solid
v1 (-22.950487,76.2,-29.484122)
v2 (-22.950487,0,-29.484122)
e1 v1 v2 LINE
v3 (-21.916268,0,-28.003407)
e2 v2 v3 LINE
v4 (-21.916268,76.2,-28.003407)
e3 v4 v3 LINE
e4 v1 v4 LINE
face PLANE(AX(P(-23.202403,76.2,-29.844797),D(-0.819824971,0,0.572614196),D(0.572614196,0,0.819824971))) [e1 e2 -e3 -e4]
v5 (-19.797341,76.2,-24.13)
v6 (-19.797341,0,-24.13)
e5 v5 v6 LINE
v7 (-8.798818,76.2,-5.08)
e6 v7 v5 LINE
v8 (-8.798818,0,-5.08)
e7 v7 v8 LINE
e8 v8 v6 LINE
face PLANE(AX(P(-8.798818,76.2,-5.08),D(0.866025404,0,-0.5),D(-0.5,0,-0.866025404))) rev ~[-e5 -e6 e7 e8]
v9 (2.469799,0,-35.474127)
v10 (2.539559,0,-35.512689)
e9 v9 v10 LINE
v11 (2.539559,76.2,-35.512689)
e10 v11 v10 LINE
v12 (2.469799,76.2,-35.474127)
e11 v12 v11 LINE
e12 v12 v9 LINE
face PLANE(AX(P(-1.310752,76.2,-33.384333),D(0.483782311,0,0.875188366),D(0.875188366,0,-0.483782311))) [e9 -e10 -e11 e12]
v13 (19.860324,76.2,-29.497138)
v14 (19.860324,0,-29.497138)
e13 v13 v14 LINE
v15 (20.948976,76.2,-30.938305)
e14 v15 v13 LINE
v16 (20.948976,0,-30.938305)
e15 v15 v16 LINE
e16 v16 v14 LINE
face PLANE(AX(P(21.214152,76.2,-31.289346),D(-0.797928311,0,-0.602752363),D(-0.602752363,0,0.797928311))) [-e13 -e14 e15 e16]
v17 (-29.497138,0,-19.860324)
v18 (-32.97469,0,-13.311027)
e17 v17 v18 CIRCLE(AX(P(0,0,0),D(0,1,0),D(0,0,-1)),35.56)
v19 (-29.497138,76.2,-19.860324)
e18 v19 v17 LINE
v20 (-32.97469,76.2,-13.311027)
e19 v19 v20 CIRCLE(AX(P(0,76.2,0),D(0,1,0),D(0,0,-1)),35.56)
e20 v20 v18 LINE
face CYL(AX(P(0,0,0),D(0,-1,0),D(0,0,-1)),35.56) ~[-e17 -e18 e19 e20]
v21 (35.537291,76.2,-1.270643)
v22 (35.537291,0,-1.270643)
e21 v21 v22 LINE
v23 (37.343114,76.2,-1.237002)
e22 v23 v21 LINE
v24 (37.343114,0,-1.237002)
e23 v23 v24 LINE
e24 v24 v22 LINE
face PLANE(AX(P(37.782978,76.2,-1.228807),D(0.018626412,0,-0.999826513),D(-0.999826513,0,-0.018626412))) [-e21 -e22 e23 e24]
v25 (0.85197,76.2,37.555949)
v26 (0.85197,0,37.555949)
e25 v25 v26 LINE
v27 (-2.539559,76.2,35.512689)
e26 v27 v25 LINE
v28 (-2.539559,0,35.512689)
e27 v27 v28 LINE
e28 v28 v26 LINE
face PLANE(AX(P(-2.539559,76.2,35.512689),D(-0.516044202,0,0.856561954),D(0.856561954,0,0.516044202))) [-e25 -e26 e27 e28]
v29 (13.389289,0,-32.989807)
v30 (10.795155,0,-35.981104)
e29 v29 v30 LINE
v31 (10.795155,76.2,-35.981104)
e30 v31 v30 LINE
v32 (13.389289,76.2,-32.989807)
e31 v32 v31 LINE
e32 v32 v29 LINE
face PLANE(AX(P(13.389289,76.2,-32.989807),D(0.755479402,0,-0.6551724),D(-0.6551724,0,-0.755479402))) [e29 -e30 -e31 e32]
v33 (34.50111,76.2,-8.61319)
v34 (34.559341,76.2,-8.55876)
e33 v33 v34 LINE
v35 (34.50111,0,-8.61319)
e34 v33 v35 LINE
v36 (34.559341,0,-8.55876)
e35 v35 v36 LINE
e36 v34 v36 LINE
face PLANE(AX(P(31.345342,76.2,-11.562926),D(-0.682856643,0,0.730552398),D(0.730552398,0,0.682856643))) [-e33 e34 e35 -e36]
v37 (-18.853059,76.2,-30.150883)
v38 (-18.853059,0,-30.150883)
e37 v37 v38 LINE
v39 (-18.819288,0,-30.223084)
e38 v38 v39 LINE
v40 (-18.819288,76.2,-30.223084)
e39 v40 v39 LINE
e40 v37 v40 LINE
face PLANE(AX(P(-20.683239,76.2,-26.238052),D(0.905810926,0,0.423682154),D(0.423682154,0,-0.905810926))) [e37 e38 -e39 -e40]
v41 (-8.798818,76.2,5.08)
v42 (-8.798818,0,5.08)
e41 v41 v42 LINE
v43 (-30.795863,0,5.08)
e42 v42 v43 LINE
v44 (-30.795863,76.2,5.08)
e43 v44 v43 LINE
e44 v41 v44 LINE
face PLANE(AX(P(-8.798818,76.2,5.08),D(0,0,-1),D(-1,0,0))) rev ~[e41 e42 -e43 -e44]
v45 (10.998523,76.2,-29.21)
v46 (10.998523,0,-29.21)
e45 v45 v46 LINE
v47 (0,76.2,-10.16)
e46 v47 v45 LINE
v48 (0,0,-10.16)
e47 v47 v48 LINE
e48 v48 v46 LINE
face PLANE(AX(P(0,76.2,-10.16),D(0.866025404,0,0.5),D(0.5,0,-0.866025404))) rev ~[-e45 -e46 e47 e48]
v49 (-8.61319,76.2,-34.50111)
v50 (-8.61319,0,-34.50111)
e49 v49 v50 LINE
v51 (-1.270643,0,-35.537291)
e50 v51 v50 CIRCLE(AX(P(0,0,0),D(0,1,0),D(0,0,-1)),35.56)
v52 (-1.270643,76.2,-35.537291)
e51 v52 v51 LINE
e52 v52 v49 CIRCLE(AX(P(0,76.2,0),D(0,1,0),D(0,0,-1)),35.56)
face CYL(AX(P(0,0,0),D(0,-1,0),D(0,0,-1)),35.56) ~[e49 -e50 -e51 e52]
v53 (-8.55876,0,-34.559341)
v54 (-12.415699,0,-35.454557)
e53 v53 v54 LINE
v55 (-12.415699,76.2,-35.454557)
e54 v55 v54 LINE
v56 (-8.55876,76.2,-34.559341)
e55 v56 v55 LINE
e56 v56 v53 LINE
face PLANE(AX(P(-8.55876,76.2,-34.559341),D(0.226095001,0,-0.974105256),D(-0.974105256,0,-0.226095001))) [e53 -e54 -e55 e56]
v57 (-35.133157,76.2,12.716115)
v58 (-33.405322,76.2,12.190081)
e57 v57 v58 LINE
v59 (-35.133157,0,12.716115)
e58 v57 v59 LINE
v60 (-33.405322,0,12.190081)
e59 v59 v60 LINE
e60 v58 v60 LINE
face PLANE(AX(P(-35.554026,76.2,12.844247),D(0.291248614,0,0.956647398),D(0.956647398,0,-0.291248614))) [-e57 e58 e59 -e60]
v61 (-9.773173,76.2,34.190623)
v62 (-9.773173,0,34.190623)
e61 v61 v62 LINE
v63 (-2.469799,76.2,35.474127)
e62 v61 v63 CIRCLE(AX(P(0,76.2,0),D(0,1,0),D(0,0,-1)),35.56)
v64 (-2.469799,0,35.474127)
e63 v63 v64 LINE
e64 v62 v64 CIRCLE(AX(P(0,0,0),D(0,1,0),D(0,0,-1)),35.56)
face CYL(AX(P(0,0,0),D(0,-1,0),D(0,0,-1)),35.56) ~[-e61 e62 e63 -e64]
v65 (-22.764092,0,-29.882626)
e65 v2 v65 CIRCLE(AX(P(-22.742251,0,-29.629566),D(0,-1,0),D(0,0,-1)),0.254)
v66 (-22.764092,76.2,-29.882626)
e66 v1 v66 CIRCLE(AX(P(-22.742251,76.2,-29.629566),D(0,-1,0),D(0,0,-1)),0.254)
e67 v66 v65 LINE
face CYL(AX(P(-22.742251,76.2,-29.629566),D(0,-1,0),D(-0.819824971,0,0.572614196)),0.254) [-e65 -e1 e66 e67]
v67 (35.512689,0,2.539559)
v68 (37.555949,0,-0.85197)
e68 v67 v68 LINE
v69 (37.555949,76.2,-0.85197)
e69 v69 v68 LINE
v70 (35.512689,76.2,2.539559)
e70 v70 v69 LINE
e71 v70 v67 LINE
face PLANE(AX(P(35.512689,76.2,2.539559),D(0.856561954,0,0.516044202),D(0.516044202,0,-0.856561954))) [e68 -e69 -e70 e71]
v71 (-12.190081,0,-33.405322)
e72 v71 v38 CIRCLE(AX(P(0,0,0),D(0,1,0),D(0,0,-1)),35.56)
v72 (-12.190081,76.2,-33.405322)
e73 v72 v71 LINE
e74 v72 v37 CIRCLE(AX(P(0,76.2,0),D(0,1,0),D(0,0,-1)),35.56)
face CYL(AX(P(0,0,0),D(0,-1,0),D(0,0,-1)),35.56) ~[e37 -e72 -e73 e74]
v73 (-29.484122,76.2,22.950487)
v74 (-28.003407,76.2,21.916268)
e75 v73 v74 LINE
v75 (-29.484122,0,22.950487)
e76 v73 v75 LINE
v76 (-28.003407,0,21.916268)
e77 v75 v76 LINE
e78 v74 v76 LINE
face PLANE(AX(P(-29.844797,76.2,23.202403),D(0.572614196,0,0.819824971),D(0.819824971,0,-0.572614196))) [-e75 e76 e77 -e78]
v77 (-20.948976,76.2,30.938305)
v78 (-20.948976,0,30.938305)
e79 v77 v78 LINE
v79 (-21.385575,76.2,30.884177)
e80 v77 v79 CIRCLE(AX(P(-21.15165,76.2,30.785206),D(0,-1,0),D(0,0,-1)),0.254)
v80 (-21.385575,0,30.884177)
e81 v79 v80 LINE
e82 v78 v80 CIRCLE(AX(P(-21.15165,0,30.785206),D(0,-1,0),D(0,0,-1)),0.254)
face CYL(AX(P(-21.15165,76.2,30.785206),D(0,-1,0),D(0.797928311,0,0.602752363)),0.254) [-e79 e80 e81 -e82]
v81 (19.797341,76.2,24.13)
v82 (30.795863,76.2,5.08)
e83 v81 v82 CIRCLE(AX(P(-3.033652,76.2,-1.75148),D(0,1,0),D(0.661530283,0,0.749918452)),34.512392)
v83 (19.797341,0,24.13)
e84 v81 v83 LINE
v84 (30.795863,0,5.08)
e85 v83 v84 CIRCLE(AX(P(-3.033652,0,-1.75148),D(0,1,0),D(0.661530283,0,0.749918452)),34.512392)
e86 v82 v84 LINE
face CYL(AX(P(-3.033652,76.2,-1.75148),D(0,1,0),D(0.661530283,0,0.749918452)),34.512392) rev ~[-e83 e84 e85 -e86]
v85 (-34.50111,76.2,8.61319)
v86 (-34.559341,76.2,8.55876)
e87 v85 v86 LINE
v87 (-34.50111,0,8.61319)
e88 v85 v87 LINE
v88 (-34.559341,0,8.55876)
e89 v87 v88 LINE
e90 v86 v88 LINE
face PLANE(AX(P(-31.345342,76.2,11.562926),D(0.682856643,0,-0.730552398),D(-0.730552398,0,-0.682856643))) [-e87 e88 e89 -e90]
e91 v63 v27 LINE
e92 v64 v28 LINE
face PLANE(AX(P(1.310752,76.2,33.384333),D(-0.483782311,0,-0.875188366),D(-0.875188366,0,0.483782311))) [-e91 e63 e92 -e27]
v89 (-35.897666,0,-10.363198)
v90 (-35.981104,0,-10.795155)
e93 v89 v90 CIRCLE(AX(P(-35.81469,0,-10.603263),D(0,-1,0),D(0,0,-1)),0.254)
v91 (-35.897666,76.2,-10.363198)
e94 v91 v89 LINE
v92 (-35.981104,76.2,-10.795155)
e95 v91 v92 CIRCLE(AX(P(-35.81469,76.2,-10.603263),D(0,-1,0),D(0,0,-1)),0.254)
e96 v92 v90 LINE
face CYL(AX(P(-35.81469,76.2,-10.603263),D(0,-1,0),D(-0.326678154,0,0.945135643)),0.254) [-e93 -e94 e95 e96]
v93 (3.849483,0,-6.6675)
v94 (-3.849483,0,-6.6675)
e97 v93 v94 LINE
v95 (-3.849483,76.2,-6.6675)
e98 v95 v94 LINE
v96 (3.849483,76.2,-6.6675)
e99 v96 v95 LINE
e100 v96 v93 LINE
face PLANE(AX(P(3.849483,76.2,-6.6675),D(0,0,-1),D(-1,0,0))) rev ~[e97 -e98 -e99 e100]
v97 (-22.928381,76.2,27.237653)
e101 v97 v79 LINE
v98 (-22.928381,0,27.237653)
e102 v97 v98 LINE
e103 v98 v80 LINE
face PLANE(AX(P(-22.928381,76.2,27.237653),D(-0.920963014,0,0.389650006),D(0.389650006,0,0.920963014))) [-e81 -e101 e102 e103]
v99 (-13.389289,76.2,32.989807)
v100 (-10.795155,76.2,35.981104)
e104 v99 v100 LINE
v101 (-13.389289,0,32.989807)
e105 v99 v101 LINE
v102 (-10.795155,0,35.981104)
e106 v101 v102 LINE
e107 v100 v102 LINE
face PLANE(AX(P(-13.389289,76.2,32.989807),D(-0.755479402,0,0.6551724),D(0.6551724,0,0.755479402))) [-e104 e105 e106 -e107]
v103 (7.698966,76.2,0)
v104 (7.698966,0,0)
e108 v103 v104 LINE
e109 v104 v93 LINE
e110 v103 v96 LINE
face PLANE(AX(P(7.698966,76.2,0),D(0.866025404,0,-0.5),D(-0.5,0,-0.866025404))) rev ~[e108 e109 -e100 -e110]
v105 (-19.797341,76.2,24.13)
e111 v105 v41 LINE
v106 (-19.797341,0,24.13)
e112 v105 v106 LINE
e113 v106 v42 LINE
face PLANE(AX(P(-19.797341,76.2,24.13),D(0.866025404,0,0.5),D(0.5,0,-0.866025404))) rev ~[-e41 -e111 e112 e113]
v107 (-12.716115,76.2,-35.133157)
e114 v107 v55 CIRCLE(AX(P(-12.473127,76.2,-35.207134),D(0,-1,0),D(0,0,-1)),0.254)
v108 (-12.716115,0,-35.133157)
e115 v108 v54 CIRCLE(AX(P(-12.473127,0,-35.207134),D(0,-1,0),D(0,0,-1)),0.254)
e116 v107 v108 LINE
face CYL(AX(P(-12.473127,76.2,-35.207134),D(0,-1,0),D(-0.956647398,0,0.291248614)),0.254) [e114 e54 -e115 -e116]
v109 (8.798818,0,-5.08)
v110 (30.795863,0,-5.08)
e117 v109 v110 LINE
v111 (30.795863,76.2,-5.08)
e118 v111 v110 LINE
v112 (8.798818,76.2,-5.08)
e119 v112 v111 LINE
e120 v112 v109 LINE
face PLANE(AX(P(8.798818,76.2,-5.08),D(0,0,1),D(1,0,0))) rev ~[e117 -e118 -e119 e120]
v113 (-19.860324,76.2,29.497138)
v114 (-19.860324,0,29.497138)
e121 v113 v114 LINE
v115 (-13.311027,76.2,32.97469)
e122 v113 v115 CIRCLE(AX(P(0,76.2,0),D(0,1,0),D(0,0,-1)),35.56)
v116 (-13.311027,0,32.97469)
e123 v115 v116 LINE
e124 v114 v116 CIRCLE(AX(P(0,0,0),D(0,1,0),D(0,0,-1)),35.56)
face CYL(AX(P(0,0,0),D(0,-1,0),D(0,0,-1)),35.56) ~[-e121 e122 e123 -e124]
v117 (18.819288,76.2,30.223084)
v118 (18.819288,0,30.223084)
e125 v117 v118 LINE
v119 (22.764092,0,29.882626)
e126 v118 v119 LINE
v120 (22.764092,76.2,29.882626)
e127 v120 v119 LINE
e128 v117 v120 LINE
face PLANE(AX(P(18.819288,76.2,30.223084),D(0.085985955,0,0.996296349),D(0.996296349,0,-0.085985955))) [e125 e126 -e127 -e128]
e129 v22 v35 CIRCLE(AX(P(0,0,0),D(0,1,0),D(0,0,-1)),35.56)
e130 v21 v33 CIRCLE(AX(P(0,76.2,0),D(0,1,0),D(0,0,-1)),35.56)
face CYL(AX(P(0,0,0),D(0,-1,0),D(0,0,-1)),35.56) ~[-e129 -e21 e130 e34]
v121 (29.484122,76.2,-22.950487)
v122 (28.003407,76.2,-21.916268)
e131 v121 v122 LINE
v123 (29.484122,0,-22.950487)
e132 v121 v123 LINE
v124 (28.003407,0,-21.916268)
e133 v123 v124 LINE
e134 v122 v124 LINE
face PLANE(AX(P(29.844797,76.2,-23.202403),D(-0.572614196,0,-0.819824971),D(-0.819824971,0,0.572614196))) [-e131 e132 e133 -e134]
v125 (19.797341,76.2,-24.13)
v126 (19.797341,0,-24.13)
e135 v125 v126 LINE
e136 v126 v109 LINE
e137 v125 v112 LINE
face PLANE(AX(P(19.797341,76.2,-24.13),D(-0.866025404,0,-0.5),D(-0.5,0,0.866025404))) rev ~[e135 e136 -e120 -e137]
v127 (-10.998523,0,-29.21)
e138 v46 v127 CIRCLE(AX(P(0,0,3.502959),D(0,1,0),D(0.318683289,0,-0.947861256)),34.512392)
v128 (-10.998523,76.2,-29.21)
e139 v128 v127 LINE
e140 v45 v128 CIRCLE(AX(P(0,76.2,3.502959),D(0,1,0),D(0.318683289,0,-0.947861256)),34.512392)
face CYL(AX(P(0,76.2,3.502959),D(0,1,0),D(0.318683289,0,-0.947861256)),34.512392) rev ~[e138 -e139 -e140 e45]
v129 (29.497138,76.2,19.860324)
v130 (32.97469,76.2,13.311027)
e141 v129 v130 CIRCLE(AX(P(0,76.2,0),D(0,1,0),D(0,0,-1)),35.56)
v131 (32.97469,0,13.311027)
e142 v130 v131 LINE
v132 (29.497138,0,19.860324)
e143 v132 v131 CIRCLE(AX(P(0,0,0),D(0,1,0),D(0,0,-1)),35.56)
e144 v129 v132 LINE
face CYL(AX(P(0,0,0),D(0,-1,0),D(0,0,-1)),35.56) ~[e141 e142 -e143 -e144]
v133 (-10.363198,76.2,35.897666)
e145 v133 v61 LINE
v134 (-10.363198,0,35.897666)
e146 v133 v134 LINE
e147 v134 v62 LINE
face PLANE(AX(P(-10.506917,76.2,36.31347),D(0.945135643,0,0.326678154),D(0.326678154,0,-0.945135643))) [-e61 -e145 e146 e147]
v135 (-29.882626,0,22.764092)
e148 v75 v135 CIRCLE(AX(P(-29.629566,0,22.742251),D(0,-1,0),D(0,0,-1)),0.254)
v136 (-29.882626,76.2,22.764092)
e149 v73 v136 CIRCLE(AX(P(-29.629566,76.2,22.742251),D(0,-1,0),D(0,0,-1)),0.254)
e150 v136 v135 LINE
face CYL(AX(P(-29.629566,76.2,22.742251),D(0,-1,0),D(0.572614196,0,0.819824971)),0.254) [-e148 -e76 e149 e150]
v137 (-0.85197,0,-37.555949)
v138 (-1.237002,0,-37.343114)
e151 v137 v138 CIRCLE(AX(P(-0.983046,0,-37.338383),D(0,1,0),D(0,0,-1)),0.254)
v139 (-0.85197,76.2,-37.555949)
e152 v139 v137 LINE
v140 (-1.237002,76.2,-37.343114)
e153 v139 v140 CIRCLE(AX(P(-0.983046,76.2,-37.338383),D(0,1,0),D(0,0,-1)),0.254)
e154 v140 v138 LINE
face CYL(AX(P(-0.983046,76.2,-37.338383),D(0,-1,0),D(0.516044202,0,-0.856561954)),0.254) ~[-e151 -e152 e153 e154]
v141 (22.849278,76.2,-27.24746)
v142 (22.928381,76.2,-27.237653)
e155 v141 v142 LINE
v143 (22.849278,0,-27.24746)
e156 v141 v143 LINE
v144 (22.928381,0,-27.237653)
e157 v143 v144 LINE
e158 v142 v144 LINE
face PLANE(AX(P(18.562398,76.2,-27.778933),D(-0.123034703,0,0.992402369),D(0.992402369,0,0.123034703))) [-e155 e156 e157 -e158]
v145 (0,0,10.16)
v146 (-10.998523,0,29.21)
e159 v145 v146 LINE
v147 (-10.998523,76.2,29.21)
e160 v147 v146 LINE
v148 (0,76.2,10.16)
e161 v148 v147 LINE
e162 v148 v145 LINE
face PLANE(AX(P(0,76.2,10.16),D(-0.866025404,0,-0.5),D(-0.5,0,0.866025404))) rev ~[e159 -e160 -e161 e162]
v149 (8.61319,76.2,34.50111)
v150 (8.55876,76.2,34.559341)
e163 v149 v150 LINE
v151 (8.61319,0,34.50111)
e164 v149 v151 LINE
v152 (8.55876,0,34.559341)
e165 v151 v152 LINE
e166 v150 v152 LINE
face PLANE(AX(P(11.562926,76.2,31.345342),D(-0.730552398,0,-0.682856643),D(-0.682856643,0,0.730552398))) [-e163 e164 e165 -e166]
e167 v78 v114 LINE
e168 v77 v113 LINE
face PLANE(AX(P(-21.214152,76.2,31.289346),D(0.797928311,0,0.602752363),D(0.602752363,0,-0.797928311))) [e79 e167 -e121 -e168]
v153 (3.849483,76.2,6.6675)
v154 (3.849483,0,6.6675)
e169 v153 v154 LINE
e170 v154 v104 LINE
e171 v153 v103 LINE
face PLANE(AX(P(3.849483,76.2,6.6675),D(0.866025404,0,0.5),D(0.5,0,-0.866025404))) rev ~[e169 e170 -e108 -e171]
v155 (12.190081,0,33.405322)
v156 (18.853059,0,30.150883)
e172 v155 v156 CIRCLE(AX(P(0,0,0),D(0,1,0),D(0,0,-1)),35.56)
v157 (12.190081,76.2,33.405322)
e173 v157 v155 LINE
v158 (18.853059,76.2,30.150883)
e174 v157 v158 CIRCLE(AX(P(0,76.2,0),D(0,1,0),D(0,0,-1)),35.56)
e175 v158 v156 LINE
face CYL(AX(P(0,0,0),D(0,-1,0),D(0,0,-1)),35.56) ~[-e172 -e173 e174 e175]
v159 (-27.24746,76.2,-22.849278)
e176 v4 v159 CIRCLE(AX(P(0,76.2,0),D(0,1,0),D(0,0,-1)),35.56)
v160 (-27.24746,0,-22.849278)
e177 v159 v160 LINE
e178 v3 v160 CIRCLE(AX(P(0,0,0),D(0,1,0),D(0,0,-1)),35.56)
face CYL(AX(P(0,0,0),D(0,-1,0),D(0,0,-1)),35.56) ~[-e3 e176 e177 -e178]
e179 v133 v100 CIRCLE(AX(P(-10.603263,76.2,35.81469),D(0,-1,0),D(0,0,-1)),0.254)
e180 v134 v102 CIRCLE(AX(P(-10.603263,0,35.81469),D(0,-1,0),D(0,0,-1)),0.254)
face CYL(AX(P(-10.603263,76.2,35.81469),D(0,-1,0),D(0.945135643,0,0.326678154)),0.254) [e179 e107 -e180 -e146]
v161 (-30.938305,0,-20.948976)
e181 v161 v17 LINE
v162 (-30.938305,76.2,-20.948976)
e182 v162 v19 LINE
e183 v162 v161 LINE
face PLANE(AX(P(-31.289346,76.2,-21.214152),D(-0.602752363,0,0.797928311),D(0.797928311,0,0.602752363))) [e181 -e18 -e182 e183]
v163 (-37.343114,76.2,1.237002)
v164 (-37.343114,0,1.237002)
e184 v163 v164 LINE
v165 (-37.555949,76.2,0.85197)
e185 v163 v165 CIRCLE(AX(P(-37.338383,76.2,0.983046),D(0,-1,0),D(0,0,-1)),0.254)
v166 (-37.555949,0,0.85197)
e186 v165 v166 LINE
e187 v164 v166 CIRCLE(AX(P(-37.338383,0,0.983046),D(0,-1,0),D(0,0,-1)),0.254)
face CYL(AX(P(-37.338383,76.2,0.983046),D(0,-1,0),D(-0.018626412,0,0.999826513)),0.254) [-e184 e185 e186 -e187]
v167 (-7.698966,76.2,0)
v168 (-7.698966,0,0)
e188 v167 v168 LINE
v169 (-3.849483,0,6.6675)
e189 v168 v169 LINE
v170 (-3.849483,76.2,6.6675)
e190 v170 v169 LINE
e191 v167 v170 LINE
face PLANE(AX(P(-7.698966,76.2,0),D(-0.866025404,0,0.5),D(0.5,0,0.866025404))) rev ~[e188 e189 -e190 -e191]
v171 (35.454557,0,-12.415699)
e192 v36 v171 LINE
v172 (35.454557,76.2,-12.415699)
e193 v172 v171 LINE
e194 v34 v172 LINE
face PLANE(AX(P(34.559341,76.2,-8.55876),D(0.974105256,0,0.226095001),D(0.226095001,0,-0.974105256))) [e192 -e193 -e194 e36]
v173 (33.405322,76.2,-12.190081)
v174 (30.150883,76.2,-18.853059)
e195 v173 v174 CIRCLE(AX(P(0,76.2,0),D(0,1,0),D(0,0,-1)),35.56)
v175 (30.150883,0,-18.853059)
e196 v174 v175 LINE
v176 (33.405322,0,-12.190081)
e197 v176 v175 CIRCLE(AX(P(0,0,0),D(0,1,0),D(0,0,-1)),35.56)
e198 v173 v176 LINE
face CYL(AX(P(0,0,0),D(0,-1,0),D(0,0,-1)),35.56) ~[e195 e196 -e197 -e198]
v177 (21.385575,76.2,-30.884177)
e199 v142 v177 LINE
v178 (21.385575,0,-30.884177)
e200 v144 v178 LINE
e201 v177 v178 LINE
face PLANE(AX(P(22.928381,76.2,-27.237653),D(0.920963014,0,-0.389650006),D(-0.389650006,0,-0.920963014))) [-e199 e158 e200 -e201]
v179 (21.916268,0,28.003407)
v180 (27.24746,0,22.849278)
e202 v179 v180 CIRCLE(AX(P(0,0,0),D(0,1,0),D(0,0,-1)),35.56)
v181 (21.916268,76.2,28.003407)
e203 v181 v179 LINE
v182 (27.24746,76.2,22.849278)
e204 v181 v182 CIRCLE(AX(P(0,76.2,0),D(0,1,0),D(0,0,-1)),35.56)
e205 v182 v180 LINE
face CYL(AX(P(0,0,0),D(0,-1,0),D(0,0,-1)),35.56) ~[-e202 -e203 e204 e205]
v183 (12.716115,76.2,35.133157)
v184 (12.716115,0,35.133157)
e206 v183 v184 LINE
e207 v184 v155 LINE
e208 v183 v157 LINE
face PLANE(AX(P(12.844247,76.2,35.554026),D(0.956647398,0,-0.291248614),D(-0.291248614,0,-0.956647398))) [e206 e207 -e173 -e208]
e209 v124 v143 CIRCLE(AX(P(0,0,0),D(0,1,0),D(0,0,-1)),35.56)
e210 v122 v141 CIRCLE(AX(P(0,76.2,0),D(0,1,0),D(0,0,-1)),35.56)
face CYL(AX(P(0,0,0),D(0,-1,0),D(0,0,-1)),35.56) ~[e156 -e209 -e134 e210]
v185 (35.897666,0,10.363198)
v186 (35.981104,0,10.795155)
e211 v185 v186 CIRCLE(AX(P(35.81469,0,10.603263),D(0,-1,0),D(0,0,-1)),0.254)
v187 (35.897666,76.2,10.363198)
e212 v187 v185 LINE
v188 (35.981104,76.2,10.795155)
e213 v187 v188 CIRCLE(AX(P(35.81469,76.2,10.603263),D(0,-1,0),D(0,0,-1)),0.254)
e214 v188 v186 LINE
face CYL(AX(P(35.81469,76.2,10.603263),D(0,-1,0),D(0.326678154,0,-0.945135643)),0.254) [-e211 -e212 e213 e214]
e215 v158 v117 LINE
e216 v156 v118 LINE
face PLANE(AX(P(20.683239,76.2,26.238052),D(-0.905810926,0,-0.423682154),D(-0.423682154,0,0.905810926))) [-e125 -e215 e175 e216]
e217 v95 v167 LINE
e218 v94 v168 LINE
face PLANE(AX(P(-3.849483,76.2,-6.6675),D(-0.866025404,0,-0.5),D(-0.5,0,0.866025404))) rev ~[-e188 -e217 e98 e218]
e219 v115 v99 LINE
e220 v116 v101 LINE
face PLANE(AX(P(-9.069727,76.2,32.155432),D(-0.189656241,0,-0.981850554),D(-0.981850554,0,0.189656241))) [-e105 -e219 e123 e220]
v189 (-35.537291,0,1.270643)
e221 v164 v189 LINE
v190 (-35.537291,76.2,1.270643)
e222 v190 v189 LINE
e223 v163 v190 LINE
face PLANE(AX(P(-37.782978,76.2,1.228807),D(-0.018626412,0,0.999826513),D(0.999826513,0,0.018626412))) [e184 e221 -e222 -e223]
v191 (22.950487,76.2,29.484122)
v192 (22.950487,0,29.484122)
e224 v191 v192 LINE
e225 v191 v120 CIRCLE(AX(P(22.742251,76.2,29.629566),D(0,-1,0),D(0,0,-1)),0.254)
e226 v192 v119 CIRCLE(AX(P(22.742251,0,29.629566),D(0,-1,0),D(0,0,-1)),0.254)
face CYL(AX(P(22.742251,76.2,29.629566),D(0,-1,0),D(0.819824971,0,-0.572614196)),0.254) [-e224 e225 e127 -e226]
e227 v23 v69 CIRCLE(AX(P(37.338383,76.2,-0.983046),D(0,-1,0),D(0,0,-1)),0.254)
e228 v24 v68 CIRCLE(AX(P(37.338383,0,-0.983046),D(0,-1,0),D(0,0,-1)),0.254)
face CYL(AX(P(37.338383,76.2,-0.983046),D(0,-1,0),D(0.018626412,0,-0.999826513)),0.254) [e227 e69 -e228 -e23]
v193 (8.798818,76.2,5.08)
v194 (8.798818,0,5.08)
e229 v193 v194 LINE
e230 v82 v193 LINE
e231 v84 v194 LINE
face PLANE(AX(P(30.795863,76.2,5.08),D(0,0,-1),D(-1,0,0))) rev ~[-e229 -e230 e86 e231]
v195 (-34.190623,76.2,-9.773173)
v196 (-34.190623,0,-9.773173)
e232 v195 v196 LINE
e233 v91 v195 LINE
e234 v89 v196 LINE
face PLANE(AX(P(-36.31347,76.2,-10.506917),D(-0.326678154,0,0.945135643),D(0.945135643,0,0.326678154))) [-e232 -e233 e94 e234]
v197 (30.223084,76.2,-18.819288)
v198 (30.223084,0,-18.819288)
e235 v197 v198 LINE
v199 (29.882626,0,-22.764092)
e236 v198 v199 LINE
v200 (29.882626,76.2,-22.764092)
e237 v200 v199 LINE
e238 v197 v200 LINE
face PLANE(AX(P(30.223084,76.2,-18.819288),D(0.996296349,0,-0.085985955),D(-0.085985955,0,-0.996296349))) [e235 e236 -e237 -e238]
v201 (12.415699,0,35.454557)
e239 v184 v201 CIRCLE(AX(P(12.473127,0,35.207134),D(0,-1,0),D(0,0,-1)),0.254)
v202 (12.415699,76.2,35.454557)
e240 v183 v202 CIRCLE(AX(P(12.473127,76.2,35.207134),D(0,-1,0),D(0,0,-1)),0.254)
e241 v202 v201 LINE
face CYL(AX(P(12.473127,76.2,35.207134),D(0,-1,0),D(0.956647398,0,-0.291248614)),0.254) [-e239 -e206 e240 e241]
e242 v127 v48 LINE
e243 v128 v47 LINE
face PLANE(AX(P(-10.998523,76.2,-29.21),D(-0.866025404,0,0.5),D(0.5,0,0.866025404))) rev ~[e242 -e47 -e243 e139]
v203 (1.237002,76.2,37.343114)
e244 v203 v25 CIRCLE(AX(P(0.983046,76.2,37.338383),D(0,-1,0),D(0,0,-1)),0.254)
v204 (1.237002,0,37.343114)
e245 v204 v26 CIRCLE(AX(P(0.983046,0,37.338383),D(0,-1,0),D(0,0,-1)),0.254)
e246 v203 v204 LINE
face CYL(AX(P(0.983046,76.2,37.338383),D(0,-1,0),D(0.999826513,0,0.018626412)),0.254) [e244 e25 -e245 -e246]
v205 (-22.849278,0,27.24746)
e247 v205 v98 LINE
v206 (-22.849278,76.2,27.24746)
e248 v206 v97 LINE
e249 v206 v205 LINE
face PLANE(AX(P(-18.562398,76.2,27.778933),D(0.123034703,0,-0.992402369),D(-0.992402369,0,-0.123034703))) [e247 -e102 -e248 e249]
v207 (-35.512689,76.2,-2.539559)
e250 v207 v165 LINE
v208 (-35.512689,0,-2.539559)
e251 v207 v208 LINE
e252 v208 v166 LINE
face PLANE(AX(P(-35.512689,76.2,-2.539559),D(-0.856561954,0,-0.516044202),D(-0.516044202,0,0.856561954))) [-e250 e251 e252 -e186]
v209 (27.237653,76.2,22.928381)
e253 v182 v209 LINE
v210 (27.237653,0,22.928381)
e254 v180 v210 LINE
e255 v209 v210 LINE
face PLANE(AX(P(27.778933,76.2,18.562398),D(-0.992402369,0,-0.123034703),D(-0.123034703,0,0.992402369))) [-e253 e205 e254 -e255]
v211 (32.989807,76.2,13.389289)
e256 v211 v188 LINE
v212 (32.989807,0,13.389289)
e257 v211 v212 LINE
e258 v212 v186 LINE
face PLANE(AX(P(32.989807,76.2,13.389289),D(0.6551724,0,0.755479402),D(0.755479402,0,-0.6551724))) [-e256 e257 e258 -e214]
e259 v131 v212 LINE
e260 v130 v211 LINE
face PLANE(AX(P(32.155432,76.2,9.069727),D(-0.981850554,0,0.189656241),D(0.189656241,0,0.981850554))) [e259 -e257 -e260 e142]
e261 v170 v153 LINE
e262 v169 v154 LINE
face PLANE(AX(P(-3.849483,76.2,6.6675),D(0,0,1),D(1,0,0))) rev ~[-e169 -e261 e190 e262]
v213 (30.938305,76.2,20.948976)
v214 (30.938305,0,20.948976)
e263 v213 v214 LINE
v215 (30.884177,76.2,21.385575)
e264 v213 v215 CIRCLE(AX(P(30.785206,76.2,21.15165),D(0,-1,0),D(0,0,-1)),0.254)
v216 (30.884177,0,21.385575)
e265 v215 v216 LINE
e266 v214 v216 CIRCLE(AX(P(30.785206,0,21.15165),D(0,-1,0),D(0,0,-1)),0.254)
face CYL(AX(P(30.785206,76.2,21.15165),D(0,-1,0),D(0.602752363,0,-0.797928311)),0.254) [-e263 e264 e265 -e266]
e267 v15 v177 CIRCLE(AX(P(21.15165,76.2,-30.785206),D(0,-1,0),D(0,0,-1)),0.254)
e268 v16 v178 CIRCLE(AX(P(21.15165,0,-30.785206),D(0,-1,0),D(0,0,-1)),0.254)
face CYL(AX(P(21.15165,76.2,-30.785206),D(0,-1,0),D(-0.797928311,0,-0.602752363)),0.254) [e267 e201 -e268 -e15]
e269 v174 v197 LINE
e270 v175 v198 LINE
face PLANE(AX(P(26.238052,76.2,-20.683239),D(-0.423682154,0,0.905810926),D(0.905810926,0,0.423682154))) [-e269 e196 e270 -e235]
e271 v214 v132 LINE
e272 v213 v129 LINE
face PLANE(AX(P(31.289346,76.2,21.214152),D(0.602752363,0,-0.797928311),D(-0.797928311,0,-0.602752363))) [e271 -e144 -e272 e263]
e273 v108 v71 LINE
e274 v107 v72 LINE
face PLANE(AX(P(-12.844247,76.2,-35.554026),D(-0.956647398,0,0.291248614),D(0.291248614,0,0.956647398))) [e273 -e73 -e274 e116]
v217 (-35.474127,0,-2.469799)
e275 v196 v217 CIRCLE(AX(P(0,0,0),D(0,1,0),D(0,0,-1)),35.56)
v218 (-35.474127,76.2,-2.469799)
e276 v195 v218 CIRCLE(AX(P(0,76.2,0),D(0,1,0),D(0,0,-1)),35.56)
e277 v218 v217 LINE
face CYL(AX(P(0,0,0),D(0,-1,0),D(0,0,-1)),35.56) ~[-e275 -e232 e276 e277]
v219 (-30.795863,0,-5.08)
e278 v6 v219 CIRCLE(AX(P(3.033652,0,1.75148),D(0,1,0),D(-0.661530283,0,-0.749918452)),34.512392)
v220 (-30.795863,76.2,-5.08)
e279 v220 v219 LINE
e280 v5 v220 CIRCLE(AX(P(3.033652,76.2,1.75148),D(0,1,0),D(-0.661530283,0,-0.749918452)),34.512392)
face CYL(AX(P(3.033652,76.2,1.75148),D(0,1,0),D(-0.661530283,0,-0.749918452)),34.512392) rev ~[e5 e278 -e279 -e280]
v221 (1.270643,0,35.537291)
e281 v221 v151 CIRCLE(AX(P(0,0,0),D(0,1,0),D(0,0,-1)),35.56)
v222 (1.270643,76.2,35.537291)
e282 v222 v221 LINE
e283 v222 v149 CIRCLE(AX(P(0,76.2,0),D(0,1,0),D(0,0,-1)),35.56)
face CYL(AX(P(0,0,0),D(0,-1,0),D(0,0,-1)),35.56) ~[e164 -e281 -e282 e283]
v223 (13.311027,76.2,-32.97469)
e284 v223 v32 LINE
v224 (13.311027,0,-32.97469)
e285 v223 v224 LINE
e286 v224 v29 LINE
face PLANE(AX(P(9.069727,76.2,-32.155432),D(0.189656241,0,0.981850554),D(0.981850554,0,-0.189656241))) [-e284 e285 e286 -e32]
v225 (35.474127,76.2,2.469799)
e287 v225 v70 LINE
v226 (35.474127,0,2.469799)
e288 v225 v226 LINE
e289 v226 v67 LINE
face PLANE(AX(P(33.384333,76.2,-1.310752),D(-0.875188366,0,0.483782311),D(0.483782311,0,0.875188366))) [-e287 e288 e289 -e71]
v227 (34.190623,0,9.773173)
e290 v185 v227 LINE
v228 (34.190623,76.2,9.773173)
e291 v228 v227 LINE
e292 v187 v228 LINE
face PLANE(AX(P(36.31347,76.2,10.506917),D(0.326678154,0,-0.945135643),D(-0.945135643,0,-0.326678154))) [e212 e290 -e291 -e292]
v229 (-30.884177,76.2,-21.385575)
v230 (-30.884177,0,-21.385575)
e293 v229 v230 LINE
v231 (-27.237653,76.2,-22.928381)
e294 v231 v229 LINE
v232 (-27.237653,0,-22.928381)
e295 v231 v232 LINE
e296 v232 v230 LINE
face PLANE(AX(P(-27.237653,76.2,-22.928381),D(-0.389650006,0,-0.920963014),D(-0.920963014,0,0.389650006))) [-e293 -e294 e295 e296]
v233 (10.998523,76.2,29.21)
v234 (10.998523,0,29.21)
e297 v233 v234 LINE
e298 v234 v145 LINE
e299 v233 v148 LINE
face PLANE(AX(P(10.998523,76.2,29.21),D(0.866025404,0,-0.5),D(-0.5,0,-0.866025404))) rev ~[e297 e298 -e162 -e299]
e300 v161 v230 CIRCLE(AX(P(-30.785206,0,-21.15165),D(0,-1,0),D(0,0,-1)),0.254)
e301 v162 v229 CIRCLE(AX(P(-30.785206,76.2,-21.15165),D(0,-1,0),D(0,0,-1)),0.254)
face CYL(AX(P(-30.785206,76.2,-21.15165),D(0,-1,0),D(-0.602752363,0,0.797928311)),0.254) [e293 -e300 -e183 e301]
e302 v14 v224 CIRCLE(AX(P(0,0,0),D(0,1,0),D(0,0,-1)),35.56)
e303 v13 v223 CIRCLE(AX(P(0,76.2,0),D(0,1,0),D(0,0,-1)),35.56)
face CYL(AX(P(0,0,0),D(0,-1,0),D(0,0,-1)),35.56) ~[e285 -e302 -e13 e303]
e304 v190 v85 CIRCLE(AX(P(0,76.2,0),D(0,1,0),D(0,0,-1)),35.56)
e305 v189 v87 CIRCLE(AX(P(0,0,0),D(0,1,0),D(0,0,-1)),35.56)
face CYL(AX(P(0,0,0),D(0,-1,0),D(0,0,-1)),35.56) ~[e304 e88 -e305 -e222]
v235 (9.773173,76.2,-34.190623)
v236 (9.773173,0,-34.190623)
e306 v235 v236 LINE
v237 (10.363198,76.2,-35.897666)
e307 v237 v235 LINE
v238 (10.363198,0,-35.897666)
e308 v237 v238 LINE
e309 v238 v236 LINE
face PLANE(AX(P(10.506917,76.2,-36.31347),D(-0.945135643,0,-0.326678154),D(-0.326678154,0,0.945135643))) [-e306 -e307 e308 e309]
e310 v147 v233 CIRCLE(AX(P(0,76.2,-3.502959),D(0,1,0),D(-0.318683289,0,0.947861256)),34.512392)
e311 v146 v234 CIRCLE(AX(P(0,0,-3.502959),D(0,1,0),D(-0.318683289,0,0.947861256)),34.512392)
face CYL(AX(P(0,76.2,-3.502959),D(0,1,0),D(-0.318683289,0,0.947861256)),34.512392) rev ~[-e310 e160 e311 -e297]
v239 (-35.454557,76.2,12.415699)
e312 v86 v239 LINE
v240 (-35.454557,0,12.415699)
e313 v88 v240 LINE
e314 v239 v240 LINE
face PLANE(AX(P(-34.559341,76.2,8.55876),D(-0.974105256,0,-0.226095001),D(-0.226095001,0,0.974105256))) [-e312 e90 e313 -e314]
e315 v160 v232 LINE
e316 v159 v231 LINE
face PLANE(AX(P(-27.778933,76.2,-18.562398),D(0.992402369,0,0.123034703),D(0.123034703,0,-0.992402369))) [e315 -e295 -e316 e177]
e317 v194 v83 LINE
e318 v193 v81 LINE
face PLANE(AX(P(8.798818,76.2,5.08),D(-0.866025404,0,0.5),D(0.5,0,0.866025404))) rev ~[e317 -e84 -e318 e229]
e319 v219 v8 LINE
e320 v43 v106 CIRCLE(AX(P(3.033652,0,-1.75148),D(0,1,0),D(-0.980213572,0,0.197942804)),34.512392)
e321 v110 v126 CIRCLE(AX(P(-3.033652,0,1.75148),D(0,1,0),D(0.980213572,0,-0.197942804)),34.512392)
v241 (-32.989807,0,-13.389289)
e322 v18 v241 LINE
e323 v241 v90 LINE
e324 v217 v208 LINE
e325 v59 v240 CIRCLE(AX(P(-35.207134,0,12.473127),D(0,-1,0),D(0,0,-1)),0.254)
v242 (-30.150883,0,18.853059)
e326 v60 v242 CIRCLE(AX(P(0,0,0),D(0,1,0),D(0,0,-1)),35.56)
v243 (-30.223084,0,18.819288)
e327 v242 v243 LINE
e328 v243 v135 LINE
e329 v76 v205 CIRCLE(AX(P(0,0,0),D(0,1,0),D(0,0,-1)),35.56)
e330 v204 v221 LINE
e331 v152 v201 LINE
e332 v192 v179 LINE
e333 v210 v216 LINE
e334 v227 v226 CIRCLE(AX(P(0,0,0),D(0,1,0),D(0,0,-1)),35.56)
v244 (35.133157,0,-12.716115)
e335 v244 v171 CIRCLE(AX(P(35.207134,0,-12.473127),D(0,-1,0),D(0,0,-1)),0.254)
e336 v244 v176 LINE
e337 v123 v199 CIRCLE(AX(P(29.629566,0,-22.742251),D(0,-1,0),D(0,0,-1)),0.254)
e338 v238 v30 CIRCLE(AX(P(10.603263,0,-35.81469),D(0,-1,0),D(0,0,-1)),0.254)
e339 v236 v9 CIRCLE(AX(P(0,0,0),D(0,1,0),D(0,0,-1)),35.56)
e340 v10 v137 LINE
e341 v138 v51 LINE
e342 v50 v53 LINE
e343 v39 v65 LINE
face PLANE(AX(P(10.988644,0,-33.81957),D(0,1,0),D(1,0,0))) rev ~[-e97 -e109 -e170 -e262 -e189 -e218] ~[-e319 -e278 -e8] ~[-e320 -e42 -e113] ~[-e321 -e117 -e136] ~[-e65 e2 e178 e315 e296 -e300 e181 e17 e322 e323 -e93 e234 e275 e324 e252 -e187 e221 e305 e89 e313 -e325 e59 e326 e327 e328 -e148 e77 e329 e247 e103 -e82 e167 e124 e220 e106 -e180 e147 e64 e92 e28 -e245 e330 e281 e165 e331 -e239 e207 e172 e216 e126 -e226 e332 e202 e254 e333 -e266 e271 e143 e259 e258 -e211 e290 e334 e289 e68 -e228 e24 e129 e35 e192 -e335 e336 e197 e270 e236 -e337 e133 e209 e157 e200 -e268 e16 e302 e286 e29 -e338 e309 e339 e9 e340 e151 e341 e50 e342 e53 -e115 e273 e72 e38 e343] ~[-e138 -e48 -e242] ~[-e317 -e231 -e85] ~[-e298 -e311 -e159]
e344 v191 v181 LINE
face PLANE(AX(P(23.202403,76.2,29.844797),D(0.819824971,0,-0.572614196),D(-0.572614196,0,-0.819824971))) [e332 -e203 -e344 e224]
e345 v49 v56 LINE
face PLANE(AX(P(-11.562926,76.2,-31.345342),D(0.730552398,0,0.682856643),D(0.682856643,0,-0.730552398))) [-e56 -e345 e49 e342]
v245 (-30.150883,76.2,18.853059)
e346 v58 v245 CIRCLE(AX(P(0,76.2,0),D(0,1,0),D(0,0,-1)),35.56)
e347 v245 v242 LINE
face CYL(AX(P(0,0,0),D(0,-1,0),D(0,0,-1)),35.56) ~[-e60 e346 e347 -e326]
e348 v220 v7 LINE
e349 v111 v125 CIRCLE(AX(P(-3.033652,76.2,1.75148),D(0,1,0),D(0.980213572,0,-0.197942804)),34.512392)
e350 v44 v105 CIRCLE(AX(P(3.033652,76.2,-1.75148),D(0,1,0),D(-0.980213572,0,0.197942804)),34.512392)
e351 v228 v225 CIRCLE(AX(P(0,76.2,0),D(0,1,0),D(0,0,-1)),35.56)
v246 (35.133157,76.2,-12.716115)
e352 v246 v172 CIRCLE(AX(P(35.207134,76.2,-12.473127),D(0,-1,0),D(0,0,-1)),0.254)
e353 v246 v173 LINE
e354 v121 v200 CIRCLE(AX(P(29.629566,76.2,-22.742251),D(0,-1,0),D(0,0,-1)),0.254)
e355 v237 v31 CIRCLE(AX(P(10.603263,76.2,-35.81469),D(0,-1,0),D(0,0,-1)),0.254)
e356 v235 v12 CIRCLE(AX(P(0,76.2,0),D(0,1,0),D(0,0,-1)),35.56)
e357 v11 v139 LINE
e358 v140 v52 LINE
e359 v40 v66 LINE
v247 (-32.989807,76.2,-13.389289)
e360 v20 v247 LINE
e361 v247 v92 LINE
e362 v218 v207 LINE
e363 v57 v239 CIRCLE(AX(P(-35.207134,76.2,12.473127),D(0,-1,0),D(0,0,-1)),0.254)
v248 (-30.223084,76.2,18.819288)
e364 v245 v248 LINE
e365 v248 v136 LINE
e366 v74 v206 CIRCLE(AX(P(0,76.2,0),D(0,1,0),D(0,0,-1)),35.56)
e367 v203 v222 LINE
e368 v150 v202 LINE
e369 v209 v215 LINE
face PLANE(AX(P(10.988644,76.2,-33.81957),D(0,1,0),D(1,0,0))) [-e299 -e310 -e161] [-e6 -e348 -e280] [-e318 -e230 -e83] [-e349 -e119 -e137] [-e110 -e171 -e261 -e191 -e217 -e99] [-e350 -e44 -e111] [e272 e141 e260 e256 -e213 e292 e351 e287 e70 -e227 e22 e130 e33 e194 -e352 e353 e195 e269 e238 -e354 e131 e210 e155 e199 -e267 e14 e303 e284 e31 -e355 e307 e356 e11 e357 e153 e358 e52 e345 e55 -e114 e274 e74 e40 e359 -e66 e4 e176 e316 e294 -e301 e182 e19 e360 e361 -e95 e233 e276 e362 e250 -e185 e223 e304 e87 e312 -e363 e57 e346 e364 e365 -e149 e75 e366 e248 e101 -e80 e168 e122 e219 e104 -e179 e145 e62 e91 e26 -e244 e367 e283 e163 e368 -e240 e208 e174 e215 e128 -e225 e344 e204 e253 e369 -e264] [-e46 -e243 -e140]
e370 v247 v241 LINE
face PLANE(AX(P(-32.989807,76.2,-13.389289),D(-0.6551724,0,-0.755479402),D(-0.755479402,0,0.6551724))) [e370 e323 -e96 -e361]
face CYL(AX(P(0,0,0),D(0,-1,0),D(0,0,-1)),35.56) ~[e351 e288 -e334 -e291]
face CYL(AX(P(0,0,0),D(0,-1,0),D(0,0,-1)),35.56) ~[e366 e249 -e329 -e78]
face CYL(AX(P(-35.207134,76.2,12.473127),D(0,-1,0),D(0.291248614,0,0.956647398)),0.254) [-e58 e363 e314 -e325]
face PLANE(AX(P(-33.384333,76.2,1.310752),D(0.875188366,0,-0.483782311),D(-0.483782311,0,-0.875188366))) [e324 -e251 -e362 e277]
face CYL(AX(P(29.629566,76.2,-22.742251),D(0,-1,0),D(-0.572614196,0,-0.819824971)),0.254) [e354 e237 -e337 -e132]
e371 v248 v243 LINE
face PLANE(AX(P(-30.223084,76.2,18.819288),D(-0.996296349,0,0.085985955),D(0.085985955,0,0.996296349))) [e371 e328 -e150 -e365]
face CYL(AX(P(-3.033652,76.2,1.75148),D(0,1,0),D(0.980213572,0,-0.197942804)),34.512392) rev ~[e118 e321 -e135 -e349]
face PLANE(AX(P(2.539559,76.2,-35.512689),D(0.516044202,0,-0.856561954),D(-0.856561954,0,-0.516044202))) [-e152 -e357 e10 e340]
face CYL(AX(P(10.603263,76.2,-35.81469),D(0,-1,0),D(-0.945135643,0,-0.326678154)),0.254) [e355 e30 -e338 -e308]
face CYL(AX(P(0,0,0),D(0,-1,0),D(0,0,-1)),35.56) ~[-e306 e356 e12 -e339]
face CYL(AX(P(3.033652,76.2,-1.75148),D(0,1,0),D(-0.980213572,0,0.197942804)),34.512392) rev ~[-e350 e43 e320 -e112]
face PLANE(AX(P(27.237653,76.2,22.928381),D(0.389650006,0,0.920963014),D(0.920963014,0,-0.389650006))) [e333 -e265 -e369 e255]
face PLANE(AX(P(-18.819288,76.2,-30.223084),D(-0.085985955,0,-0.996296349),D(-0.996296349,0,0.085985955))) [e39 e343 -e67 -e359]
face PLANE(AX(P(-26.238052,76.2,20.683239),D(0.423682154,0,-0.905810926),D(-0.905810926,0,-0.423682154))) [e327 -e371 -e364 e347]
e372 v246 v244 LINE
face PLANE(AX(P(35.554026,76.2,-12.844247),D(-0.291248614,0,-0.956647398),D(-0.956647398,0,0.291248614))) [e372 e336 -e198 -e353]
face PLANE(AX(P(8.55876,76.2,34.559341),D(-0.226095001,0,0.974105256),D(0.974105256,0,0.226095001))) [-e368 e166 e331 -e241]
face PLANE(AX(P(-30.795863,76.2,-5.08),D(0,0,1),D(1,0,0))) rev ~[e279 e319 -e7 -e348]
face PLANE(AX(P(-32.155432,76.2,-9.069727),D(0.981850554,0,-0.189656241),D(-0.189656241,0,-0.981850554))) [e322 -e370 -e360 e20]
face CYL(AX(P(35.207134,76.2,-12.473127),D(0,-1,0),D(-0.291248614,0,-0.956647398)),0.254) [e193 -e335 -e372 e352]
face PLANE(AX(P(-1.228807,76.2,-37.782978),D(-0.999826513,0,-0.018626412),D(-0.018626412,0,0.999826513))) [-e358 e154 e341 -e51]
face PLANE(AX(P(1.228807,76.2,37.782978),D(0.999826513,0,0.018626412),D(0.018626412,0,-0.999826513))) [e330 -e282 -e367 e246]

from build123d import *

# Parameters (mm, degrees)
SKETCH1_R           = 35.56
BOSS_EXTRUDE1_DEPTH = 76.2
CUT_EXTRUDE1_DEPTH  = 76.2
CUT_EXTRUDE2_DEPTH  = 76.2
BOSS_EXTRUDE2_DEPTH = 76.2
FILLET1_R           = 0.254


with BuildPart() as part:
    # Sketch1 → Boss-Extrude1 (new body)
    with BuildSketch(Plane(origin=(0, 0, 0), x_dir=(1, 0, 0), z_dir=(0, 1, 0))):
        with Locations(Location((0, 0, 0), (0, 0, 90))):
            Circle(SKETCH1_R)
    extrude(amount=BOSS_EXTRUDE1_DEPTH)

    # Sketch2 → Cut-Extrude1 (cut)
    with BuildSketch(Plane(origin=(0, 76.2, 0), x_dir=(1, 0, 0), z_dir=(0, 1, 0))):
        Polygon((7.69896584, 0), (3.84948292, 6.6675), (-3.84948292, 6.6675), (-7.69896584, 0), (-3.84948292, -6.6675), (3.84948292, -6.6675), align=None)
    extrude(amount=-CUT_EXTRUDE1_DEPTH, mode=Mode.SUBTRACT)

    # Sketch3 → Cut-Extrude2 (cut)
    with BuildSketch(Plane(origin=(0, 76.2, 0), x_dir=(1, 0, 0), z_dir=(0, 1, 0))):
        with BuildLine():
            Line((8.798818102, 5.08), (30.795863359, 5.08))
            ThreePointArc((30.795863359, 5.08), (26.854956532, 15.504716383), (19.797340731, 24.13))
            Line((19.797340731, 24.13), (8.798818102, 5.08))
        make_face()
        with BuildLine():
            Line((0, 10.16), (10.998522628, 29.21))
            ThreePointArc((10.998522628, 29.21), (0, 31.009432765), (-10.998522628, 29.21))
            Line((-10.998522628, 29.21), (0, 10.16))
        make_face()
        with BuildLine():
            Line((8.798818102, -5.08), (19.797340731, -24.13))
            ThreePointArc((19.797340731, -24.13), (26.854956532, -15.504716383), (30.795863359, -5.08))
            Line((30.795863359, -5.08), (8.798818102, -5.08))
        make_face()
        with BuildLine():
            Line((0, -10.16), (-10.998522628, -29.21))
            ThreePointArc((-10.998522628, -29.21), (0, -31.009432765), (10.998522628, -29.21))
            Line((10.998522628, -29.21), (0, -10.16))
        make_face()
        with BuildLine():
            Line((-8.798818102, -5.08), (-30.795863359, -5.08))
            ThreePointArc((-30.795863359, -5.08), (-26.854956532, -15.504716383), (-19.797340731, -24.13))
            Line((-19.797340731, -24.13), (-8.798818102, -5.08))
        make_face()
        with BuildLine():
            Line((-8.798818102, 5.08), (-19.797340731, 24.13))
            ThreePointArc((-19.797340731, 24.13), (-26.854956532, 15.504716383), (-30.795863359, 5.08))
            Line((-30.795863359, 5.08), (-8.798818102, 5.08))
        make_face()
    extrude(amount=-CUT_EXTRUDE2_DEPTH, mode=Mode.SUBTRACT)

    # Sketch4 → Boss-Extrude2 (add)
    with BuildSketch(Plane(origin=(0, 76.2, 0), x_dir=(1, 0, 0), z_dir=(0, 1, 0))):
        Polygon((10.506917468, 36.313470126), (9.069726639, 32.155431824), (13.389288853, 32.989807207), align=None)
        Polygon((2.539559344, 35.512688914), (-1.22880707, 37.782978449), (-1.310752274, 33.384332637), align=None)
        Polygon((21.214151718, 31.289346337), (18.562397516, 27.778933305), (22.92838148, 27.237653318), align=None)
        Polygon((29.84479699, 23.202403322), (26.238051593, 20.683239247), (30.223084377, 18.819288146), align=None)
        Polygon((35.554025592, 12.84424741), (31.345342368, 11.562925622), (34.559341198, 8.558759928), align=None)
        Polygon((37.782978449, 1.22880707), (33.384332637, 1.310752274), (35.512688914, -2.539559344), align=None)
        Polygon((36.313470126, -10.506917468), (32.155431824, -9.069726639), (32.989807207, -13.389288853), align=None)
        Polygon((31.289346337, -21.214151718), (27.778933305, -18.562397516), (27.237653318, -22.92838148), align=None)
        Polygon((23.202403322, -29.84479699), (20.683239247, -26.238051593), (18.819288146, -30.223084377), align=None)
        Polygon((12.84424741, -35.554025592), (11.562925622, -31.345342368), (8.558759928, -34.559341198), align=None)
        Polygon((1.22880707, -37.782978449), (1.310752274, -33.384332637), (-2.539559344, -35.512688914), align=None)
        Polygon((-10.506917468, -36.313470126), (-9.069726639, -32.155431824), (-13.389288853, -32.989807207), align=None)
        Polygon((-21.214151718, -31.289346337), (-18.562397516, -27.778933305), (-22.92838148, -27.237653318), align=None)
        Polygon((-29.84479699, -23.202403322), (-26.238051593, -20.683239247), (-30.223084377, -18.819288146), align=None)
        Polygon((-35.554025592, -12.84424741), (-31.345342368, -11.562925622), (-34.559341198, -8.558759928), align=None)
        Polygon((-37.782978449, -1.22880707), (-33.384332637, -1.310752274), (-35.512688914, 2.539559344), align=None)
        Polygon((-36.313470126, 10.506917468), (-32.155431824, 9.069726639), (-32.989807207, 13.389288853), align=None)
        Polygon((-31.289346337, 21.214151718), (-27.778933305, 18.562397516), (-27.237653318, 22.92838148), align=None)
        Polygon((-23.202403322, 29.84479699), (-20.683239247, 26.238051593), (-18.819288146, 30.223084377), align=None)
        Polygon((-12.84424741, 35.554025592), (-11.562925622, 31.345342368), (-8.558759928, 34.559341198), align=None)
    extrude(amount=-BOSS_EXTRUDE2_DEPTH)

    # Fillet1
    fillet1_edges = [part.edges().sort_by_distance(p)[0] for p in [
        (-1.22880707, 38.1, -37.782978449),
        (10.506917468, 38.1, -36.313470126),
        (21.214151718, 38.1, -31.289346337),
        (29.84479699, 38.1, -23.202403322),
        (35.554025592, 38.1, -12.84424741),
        (37.782978449, 38.1, -1.22880707),
        (36.313470126, 38.1, 10.506917468),
        (31.289346337, 38.1, 21.214151718),
        (23.202403322, 38.1, 29.84479699),
        (12.84424741, 38.1, 35.554025592),
        (1.22880707, 38.1, 37.782978449),
        (-10.506917468, 38.1, 36.313470126),
        (-21.214151718, 38.1, 31.289346337),
        (-29.84479699, 38.1, 23.202403322),
        (-35.554025592, 38.1, 12.84424741),
        (-37.782978449, 38.1, 1.22880707),
        (-36.313470126, 38.1, -10.506917468),
        (-31.289346337, 38.1, -21.214151718),
        (-23.202403322, 38.1, -29.84479699),
        (-12.84424741, 38.1, -35.554025592),
    ]]
    fillet(fillet1_edges, radius=FILLET1_R)


solid = part.part
